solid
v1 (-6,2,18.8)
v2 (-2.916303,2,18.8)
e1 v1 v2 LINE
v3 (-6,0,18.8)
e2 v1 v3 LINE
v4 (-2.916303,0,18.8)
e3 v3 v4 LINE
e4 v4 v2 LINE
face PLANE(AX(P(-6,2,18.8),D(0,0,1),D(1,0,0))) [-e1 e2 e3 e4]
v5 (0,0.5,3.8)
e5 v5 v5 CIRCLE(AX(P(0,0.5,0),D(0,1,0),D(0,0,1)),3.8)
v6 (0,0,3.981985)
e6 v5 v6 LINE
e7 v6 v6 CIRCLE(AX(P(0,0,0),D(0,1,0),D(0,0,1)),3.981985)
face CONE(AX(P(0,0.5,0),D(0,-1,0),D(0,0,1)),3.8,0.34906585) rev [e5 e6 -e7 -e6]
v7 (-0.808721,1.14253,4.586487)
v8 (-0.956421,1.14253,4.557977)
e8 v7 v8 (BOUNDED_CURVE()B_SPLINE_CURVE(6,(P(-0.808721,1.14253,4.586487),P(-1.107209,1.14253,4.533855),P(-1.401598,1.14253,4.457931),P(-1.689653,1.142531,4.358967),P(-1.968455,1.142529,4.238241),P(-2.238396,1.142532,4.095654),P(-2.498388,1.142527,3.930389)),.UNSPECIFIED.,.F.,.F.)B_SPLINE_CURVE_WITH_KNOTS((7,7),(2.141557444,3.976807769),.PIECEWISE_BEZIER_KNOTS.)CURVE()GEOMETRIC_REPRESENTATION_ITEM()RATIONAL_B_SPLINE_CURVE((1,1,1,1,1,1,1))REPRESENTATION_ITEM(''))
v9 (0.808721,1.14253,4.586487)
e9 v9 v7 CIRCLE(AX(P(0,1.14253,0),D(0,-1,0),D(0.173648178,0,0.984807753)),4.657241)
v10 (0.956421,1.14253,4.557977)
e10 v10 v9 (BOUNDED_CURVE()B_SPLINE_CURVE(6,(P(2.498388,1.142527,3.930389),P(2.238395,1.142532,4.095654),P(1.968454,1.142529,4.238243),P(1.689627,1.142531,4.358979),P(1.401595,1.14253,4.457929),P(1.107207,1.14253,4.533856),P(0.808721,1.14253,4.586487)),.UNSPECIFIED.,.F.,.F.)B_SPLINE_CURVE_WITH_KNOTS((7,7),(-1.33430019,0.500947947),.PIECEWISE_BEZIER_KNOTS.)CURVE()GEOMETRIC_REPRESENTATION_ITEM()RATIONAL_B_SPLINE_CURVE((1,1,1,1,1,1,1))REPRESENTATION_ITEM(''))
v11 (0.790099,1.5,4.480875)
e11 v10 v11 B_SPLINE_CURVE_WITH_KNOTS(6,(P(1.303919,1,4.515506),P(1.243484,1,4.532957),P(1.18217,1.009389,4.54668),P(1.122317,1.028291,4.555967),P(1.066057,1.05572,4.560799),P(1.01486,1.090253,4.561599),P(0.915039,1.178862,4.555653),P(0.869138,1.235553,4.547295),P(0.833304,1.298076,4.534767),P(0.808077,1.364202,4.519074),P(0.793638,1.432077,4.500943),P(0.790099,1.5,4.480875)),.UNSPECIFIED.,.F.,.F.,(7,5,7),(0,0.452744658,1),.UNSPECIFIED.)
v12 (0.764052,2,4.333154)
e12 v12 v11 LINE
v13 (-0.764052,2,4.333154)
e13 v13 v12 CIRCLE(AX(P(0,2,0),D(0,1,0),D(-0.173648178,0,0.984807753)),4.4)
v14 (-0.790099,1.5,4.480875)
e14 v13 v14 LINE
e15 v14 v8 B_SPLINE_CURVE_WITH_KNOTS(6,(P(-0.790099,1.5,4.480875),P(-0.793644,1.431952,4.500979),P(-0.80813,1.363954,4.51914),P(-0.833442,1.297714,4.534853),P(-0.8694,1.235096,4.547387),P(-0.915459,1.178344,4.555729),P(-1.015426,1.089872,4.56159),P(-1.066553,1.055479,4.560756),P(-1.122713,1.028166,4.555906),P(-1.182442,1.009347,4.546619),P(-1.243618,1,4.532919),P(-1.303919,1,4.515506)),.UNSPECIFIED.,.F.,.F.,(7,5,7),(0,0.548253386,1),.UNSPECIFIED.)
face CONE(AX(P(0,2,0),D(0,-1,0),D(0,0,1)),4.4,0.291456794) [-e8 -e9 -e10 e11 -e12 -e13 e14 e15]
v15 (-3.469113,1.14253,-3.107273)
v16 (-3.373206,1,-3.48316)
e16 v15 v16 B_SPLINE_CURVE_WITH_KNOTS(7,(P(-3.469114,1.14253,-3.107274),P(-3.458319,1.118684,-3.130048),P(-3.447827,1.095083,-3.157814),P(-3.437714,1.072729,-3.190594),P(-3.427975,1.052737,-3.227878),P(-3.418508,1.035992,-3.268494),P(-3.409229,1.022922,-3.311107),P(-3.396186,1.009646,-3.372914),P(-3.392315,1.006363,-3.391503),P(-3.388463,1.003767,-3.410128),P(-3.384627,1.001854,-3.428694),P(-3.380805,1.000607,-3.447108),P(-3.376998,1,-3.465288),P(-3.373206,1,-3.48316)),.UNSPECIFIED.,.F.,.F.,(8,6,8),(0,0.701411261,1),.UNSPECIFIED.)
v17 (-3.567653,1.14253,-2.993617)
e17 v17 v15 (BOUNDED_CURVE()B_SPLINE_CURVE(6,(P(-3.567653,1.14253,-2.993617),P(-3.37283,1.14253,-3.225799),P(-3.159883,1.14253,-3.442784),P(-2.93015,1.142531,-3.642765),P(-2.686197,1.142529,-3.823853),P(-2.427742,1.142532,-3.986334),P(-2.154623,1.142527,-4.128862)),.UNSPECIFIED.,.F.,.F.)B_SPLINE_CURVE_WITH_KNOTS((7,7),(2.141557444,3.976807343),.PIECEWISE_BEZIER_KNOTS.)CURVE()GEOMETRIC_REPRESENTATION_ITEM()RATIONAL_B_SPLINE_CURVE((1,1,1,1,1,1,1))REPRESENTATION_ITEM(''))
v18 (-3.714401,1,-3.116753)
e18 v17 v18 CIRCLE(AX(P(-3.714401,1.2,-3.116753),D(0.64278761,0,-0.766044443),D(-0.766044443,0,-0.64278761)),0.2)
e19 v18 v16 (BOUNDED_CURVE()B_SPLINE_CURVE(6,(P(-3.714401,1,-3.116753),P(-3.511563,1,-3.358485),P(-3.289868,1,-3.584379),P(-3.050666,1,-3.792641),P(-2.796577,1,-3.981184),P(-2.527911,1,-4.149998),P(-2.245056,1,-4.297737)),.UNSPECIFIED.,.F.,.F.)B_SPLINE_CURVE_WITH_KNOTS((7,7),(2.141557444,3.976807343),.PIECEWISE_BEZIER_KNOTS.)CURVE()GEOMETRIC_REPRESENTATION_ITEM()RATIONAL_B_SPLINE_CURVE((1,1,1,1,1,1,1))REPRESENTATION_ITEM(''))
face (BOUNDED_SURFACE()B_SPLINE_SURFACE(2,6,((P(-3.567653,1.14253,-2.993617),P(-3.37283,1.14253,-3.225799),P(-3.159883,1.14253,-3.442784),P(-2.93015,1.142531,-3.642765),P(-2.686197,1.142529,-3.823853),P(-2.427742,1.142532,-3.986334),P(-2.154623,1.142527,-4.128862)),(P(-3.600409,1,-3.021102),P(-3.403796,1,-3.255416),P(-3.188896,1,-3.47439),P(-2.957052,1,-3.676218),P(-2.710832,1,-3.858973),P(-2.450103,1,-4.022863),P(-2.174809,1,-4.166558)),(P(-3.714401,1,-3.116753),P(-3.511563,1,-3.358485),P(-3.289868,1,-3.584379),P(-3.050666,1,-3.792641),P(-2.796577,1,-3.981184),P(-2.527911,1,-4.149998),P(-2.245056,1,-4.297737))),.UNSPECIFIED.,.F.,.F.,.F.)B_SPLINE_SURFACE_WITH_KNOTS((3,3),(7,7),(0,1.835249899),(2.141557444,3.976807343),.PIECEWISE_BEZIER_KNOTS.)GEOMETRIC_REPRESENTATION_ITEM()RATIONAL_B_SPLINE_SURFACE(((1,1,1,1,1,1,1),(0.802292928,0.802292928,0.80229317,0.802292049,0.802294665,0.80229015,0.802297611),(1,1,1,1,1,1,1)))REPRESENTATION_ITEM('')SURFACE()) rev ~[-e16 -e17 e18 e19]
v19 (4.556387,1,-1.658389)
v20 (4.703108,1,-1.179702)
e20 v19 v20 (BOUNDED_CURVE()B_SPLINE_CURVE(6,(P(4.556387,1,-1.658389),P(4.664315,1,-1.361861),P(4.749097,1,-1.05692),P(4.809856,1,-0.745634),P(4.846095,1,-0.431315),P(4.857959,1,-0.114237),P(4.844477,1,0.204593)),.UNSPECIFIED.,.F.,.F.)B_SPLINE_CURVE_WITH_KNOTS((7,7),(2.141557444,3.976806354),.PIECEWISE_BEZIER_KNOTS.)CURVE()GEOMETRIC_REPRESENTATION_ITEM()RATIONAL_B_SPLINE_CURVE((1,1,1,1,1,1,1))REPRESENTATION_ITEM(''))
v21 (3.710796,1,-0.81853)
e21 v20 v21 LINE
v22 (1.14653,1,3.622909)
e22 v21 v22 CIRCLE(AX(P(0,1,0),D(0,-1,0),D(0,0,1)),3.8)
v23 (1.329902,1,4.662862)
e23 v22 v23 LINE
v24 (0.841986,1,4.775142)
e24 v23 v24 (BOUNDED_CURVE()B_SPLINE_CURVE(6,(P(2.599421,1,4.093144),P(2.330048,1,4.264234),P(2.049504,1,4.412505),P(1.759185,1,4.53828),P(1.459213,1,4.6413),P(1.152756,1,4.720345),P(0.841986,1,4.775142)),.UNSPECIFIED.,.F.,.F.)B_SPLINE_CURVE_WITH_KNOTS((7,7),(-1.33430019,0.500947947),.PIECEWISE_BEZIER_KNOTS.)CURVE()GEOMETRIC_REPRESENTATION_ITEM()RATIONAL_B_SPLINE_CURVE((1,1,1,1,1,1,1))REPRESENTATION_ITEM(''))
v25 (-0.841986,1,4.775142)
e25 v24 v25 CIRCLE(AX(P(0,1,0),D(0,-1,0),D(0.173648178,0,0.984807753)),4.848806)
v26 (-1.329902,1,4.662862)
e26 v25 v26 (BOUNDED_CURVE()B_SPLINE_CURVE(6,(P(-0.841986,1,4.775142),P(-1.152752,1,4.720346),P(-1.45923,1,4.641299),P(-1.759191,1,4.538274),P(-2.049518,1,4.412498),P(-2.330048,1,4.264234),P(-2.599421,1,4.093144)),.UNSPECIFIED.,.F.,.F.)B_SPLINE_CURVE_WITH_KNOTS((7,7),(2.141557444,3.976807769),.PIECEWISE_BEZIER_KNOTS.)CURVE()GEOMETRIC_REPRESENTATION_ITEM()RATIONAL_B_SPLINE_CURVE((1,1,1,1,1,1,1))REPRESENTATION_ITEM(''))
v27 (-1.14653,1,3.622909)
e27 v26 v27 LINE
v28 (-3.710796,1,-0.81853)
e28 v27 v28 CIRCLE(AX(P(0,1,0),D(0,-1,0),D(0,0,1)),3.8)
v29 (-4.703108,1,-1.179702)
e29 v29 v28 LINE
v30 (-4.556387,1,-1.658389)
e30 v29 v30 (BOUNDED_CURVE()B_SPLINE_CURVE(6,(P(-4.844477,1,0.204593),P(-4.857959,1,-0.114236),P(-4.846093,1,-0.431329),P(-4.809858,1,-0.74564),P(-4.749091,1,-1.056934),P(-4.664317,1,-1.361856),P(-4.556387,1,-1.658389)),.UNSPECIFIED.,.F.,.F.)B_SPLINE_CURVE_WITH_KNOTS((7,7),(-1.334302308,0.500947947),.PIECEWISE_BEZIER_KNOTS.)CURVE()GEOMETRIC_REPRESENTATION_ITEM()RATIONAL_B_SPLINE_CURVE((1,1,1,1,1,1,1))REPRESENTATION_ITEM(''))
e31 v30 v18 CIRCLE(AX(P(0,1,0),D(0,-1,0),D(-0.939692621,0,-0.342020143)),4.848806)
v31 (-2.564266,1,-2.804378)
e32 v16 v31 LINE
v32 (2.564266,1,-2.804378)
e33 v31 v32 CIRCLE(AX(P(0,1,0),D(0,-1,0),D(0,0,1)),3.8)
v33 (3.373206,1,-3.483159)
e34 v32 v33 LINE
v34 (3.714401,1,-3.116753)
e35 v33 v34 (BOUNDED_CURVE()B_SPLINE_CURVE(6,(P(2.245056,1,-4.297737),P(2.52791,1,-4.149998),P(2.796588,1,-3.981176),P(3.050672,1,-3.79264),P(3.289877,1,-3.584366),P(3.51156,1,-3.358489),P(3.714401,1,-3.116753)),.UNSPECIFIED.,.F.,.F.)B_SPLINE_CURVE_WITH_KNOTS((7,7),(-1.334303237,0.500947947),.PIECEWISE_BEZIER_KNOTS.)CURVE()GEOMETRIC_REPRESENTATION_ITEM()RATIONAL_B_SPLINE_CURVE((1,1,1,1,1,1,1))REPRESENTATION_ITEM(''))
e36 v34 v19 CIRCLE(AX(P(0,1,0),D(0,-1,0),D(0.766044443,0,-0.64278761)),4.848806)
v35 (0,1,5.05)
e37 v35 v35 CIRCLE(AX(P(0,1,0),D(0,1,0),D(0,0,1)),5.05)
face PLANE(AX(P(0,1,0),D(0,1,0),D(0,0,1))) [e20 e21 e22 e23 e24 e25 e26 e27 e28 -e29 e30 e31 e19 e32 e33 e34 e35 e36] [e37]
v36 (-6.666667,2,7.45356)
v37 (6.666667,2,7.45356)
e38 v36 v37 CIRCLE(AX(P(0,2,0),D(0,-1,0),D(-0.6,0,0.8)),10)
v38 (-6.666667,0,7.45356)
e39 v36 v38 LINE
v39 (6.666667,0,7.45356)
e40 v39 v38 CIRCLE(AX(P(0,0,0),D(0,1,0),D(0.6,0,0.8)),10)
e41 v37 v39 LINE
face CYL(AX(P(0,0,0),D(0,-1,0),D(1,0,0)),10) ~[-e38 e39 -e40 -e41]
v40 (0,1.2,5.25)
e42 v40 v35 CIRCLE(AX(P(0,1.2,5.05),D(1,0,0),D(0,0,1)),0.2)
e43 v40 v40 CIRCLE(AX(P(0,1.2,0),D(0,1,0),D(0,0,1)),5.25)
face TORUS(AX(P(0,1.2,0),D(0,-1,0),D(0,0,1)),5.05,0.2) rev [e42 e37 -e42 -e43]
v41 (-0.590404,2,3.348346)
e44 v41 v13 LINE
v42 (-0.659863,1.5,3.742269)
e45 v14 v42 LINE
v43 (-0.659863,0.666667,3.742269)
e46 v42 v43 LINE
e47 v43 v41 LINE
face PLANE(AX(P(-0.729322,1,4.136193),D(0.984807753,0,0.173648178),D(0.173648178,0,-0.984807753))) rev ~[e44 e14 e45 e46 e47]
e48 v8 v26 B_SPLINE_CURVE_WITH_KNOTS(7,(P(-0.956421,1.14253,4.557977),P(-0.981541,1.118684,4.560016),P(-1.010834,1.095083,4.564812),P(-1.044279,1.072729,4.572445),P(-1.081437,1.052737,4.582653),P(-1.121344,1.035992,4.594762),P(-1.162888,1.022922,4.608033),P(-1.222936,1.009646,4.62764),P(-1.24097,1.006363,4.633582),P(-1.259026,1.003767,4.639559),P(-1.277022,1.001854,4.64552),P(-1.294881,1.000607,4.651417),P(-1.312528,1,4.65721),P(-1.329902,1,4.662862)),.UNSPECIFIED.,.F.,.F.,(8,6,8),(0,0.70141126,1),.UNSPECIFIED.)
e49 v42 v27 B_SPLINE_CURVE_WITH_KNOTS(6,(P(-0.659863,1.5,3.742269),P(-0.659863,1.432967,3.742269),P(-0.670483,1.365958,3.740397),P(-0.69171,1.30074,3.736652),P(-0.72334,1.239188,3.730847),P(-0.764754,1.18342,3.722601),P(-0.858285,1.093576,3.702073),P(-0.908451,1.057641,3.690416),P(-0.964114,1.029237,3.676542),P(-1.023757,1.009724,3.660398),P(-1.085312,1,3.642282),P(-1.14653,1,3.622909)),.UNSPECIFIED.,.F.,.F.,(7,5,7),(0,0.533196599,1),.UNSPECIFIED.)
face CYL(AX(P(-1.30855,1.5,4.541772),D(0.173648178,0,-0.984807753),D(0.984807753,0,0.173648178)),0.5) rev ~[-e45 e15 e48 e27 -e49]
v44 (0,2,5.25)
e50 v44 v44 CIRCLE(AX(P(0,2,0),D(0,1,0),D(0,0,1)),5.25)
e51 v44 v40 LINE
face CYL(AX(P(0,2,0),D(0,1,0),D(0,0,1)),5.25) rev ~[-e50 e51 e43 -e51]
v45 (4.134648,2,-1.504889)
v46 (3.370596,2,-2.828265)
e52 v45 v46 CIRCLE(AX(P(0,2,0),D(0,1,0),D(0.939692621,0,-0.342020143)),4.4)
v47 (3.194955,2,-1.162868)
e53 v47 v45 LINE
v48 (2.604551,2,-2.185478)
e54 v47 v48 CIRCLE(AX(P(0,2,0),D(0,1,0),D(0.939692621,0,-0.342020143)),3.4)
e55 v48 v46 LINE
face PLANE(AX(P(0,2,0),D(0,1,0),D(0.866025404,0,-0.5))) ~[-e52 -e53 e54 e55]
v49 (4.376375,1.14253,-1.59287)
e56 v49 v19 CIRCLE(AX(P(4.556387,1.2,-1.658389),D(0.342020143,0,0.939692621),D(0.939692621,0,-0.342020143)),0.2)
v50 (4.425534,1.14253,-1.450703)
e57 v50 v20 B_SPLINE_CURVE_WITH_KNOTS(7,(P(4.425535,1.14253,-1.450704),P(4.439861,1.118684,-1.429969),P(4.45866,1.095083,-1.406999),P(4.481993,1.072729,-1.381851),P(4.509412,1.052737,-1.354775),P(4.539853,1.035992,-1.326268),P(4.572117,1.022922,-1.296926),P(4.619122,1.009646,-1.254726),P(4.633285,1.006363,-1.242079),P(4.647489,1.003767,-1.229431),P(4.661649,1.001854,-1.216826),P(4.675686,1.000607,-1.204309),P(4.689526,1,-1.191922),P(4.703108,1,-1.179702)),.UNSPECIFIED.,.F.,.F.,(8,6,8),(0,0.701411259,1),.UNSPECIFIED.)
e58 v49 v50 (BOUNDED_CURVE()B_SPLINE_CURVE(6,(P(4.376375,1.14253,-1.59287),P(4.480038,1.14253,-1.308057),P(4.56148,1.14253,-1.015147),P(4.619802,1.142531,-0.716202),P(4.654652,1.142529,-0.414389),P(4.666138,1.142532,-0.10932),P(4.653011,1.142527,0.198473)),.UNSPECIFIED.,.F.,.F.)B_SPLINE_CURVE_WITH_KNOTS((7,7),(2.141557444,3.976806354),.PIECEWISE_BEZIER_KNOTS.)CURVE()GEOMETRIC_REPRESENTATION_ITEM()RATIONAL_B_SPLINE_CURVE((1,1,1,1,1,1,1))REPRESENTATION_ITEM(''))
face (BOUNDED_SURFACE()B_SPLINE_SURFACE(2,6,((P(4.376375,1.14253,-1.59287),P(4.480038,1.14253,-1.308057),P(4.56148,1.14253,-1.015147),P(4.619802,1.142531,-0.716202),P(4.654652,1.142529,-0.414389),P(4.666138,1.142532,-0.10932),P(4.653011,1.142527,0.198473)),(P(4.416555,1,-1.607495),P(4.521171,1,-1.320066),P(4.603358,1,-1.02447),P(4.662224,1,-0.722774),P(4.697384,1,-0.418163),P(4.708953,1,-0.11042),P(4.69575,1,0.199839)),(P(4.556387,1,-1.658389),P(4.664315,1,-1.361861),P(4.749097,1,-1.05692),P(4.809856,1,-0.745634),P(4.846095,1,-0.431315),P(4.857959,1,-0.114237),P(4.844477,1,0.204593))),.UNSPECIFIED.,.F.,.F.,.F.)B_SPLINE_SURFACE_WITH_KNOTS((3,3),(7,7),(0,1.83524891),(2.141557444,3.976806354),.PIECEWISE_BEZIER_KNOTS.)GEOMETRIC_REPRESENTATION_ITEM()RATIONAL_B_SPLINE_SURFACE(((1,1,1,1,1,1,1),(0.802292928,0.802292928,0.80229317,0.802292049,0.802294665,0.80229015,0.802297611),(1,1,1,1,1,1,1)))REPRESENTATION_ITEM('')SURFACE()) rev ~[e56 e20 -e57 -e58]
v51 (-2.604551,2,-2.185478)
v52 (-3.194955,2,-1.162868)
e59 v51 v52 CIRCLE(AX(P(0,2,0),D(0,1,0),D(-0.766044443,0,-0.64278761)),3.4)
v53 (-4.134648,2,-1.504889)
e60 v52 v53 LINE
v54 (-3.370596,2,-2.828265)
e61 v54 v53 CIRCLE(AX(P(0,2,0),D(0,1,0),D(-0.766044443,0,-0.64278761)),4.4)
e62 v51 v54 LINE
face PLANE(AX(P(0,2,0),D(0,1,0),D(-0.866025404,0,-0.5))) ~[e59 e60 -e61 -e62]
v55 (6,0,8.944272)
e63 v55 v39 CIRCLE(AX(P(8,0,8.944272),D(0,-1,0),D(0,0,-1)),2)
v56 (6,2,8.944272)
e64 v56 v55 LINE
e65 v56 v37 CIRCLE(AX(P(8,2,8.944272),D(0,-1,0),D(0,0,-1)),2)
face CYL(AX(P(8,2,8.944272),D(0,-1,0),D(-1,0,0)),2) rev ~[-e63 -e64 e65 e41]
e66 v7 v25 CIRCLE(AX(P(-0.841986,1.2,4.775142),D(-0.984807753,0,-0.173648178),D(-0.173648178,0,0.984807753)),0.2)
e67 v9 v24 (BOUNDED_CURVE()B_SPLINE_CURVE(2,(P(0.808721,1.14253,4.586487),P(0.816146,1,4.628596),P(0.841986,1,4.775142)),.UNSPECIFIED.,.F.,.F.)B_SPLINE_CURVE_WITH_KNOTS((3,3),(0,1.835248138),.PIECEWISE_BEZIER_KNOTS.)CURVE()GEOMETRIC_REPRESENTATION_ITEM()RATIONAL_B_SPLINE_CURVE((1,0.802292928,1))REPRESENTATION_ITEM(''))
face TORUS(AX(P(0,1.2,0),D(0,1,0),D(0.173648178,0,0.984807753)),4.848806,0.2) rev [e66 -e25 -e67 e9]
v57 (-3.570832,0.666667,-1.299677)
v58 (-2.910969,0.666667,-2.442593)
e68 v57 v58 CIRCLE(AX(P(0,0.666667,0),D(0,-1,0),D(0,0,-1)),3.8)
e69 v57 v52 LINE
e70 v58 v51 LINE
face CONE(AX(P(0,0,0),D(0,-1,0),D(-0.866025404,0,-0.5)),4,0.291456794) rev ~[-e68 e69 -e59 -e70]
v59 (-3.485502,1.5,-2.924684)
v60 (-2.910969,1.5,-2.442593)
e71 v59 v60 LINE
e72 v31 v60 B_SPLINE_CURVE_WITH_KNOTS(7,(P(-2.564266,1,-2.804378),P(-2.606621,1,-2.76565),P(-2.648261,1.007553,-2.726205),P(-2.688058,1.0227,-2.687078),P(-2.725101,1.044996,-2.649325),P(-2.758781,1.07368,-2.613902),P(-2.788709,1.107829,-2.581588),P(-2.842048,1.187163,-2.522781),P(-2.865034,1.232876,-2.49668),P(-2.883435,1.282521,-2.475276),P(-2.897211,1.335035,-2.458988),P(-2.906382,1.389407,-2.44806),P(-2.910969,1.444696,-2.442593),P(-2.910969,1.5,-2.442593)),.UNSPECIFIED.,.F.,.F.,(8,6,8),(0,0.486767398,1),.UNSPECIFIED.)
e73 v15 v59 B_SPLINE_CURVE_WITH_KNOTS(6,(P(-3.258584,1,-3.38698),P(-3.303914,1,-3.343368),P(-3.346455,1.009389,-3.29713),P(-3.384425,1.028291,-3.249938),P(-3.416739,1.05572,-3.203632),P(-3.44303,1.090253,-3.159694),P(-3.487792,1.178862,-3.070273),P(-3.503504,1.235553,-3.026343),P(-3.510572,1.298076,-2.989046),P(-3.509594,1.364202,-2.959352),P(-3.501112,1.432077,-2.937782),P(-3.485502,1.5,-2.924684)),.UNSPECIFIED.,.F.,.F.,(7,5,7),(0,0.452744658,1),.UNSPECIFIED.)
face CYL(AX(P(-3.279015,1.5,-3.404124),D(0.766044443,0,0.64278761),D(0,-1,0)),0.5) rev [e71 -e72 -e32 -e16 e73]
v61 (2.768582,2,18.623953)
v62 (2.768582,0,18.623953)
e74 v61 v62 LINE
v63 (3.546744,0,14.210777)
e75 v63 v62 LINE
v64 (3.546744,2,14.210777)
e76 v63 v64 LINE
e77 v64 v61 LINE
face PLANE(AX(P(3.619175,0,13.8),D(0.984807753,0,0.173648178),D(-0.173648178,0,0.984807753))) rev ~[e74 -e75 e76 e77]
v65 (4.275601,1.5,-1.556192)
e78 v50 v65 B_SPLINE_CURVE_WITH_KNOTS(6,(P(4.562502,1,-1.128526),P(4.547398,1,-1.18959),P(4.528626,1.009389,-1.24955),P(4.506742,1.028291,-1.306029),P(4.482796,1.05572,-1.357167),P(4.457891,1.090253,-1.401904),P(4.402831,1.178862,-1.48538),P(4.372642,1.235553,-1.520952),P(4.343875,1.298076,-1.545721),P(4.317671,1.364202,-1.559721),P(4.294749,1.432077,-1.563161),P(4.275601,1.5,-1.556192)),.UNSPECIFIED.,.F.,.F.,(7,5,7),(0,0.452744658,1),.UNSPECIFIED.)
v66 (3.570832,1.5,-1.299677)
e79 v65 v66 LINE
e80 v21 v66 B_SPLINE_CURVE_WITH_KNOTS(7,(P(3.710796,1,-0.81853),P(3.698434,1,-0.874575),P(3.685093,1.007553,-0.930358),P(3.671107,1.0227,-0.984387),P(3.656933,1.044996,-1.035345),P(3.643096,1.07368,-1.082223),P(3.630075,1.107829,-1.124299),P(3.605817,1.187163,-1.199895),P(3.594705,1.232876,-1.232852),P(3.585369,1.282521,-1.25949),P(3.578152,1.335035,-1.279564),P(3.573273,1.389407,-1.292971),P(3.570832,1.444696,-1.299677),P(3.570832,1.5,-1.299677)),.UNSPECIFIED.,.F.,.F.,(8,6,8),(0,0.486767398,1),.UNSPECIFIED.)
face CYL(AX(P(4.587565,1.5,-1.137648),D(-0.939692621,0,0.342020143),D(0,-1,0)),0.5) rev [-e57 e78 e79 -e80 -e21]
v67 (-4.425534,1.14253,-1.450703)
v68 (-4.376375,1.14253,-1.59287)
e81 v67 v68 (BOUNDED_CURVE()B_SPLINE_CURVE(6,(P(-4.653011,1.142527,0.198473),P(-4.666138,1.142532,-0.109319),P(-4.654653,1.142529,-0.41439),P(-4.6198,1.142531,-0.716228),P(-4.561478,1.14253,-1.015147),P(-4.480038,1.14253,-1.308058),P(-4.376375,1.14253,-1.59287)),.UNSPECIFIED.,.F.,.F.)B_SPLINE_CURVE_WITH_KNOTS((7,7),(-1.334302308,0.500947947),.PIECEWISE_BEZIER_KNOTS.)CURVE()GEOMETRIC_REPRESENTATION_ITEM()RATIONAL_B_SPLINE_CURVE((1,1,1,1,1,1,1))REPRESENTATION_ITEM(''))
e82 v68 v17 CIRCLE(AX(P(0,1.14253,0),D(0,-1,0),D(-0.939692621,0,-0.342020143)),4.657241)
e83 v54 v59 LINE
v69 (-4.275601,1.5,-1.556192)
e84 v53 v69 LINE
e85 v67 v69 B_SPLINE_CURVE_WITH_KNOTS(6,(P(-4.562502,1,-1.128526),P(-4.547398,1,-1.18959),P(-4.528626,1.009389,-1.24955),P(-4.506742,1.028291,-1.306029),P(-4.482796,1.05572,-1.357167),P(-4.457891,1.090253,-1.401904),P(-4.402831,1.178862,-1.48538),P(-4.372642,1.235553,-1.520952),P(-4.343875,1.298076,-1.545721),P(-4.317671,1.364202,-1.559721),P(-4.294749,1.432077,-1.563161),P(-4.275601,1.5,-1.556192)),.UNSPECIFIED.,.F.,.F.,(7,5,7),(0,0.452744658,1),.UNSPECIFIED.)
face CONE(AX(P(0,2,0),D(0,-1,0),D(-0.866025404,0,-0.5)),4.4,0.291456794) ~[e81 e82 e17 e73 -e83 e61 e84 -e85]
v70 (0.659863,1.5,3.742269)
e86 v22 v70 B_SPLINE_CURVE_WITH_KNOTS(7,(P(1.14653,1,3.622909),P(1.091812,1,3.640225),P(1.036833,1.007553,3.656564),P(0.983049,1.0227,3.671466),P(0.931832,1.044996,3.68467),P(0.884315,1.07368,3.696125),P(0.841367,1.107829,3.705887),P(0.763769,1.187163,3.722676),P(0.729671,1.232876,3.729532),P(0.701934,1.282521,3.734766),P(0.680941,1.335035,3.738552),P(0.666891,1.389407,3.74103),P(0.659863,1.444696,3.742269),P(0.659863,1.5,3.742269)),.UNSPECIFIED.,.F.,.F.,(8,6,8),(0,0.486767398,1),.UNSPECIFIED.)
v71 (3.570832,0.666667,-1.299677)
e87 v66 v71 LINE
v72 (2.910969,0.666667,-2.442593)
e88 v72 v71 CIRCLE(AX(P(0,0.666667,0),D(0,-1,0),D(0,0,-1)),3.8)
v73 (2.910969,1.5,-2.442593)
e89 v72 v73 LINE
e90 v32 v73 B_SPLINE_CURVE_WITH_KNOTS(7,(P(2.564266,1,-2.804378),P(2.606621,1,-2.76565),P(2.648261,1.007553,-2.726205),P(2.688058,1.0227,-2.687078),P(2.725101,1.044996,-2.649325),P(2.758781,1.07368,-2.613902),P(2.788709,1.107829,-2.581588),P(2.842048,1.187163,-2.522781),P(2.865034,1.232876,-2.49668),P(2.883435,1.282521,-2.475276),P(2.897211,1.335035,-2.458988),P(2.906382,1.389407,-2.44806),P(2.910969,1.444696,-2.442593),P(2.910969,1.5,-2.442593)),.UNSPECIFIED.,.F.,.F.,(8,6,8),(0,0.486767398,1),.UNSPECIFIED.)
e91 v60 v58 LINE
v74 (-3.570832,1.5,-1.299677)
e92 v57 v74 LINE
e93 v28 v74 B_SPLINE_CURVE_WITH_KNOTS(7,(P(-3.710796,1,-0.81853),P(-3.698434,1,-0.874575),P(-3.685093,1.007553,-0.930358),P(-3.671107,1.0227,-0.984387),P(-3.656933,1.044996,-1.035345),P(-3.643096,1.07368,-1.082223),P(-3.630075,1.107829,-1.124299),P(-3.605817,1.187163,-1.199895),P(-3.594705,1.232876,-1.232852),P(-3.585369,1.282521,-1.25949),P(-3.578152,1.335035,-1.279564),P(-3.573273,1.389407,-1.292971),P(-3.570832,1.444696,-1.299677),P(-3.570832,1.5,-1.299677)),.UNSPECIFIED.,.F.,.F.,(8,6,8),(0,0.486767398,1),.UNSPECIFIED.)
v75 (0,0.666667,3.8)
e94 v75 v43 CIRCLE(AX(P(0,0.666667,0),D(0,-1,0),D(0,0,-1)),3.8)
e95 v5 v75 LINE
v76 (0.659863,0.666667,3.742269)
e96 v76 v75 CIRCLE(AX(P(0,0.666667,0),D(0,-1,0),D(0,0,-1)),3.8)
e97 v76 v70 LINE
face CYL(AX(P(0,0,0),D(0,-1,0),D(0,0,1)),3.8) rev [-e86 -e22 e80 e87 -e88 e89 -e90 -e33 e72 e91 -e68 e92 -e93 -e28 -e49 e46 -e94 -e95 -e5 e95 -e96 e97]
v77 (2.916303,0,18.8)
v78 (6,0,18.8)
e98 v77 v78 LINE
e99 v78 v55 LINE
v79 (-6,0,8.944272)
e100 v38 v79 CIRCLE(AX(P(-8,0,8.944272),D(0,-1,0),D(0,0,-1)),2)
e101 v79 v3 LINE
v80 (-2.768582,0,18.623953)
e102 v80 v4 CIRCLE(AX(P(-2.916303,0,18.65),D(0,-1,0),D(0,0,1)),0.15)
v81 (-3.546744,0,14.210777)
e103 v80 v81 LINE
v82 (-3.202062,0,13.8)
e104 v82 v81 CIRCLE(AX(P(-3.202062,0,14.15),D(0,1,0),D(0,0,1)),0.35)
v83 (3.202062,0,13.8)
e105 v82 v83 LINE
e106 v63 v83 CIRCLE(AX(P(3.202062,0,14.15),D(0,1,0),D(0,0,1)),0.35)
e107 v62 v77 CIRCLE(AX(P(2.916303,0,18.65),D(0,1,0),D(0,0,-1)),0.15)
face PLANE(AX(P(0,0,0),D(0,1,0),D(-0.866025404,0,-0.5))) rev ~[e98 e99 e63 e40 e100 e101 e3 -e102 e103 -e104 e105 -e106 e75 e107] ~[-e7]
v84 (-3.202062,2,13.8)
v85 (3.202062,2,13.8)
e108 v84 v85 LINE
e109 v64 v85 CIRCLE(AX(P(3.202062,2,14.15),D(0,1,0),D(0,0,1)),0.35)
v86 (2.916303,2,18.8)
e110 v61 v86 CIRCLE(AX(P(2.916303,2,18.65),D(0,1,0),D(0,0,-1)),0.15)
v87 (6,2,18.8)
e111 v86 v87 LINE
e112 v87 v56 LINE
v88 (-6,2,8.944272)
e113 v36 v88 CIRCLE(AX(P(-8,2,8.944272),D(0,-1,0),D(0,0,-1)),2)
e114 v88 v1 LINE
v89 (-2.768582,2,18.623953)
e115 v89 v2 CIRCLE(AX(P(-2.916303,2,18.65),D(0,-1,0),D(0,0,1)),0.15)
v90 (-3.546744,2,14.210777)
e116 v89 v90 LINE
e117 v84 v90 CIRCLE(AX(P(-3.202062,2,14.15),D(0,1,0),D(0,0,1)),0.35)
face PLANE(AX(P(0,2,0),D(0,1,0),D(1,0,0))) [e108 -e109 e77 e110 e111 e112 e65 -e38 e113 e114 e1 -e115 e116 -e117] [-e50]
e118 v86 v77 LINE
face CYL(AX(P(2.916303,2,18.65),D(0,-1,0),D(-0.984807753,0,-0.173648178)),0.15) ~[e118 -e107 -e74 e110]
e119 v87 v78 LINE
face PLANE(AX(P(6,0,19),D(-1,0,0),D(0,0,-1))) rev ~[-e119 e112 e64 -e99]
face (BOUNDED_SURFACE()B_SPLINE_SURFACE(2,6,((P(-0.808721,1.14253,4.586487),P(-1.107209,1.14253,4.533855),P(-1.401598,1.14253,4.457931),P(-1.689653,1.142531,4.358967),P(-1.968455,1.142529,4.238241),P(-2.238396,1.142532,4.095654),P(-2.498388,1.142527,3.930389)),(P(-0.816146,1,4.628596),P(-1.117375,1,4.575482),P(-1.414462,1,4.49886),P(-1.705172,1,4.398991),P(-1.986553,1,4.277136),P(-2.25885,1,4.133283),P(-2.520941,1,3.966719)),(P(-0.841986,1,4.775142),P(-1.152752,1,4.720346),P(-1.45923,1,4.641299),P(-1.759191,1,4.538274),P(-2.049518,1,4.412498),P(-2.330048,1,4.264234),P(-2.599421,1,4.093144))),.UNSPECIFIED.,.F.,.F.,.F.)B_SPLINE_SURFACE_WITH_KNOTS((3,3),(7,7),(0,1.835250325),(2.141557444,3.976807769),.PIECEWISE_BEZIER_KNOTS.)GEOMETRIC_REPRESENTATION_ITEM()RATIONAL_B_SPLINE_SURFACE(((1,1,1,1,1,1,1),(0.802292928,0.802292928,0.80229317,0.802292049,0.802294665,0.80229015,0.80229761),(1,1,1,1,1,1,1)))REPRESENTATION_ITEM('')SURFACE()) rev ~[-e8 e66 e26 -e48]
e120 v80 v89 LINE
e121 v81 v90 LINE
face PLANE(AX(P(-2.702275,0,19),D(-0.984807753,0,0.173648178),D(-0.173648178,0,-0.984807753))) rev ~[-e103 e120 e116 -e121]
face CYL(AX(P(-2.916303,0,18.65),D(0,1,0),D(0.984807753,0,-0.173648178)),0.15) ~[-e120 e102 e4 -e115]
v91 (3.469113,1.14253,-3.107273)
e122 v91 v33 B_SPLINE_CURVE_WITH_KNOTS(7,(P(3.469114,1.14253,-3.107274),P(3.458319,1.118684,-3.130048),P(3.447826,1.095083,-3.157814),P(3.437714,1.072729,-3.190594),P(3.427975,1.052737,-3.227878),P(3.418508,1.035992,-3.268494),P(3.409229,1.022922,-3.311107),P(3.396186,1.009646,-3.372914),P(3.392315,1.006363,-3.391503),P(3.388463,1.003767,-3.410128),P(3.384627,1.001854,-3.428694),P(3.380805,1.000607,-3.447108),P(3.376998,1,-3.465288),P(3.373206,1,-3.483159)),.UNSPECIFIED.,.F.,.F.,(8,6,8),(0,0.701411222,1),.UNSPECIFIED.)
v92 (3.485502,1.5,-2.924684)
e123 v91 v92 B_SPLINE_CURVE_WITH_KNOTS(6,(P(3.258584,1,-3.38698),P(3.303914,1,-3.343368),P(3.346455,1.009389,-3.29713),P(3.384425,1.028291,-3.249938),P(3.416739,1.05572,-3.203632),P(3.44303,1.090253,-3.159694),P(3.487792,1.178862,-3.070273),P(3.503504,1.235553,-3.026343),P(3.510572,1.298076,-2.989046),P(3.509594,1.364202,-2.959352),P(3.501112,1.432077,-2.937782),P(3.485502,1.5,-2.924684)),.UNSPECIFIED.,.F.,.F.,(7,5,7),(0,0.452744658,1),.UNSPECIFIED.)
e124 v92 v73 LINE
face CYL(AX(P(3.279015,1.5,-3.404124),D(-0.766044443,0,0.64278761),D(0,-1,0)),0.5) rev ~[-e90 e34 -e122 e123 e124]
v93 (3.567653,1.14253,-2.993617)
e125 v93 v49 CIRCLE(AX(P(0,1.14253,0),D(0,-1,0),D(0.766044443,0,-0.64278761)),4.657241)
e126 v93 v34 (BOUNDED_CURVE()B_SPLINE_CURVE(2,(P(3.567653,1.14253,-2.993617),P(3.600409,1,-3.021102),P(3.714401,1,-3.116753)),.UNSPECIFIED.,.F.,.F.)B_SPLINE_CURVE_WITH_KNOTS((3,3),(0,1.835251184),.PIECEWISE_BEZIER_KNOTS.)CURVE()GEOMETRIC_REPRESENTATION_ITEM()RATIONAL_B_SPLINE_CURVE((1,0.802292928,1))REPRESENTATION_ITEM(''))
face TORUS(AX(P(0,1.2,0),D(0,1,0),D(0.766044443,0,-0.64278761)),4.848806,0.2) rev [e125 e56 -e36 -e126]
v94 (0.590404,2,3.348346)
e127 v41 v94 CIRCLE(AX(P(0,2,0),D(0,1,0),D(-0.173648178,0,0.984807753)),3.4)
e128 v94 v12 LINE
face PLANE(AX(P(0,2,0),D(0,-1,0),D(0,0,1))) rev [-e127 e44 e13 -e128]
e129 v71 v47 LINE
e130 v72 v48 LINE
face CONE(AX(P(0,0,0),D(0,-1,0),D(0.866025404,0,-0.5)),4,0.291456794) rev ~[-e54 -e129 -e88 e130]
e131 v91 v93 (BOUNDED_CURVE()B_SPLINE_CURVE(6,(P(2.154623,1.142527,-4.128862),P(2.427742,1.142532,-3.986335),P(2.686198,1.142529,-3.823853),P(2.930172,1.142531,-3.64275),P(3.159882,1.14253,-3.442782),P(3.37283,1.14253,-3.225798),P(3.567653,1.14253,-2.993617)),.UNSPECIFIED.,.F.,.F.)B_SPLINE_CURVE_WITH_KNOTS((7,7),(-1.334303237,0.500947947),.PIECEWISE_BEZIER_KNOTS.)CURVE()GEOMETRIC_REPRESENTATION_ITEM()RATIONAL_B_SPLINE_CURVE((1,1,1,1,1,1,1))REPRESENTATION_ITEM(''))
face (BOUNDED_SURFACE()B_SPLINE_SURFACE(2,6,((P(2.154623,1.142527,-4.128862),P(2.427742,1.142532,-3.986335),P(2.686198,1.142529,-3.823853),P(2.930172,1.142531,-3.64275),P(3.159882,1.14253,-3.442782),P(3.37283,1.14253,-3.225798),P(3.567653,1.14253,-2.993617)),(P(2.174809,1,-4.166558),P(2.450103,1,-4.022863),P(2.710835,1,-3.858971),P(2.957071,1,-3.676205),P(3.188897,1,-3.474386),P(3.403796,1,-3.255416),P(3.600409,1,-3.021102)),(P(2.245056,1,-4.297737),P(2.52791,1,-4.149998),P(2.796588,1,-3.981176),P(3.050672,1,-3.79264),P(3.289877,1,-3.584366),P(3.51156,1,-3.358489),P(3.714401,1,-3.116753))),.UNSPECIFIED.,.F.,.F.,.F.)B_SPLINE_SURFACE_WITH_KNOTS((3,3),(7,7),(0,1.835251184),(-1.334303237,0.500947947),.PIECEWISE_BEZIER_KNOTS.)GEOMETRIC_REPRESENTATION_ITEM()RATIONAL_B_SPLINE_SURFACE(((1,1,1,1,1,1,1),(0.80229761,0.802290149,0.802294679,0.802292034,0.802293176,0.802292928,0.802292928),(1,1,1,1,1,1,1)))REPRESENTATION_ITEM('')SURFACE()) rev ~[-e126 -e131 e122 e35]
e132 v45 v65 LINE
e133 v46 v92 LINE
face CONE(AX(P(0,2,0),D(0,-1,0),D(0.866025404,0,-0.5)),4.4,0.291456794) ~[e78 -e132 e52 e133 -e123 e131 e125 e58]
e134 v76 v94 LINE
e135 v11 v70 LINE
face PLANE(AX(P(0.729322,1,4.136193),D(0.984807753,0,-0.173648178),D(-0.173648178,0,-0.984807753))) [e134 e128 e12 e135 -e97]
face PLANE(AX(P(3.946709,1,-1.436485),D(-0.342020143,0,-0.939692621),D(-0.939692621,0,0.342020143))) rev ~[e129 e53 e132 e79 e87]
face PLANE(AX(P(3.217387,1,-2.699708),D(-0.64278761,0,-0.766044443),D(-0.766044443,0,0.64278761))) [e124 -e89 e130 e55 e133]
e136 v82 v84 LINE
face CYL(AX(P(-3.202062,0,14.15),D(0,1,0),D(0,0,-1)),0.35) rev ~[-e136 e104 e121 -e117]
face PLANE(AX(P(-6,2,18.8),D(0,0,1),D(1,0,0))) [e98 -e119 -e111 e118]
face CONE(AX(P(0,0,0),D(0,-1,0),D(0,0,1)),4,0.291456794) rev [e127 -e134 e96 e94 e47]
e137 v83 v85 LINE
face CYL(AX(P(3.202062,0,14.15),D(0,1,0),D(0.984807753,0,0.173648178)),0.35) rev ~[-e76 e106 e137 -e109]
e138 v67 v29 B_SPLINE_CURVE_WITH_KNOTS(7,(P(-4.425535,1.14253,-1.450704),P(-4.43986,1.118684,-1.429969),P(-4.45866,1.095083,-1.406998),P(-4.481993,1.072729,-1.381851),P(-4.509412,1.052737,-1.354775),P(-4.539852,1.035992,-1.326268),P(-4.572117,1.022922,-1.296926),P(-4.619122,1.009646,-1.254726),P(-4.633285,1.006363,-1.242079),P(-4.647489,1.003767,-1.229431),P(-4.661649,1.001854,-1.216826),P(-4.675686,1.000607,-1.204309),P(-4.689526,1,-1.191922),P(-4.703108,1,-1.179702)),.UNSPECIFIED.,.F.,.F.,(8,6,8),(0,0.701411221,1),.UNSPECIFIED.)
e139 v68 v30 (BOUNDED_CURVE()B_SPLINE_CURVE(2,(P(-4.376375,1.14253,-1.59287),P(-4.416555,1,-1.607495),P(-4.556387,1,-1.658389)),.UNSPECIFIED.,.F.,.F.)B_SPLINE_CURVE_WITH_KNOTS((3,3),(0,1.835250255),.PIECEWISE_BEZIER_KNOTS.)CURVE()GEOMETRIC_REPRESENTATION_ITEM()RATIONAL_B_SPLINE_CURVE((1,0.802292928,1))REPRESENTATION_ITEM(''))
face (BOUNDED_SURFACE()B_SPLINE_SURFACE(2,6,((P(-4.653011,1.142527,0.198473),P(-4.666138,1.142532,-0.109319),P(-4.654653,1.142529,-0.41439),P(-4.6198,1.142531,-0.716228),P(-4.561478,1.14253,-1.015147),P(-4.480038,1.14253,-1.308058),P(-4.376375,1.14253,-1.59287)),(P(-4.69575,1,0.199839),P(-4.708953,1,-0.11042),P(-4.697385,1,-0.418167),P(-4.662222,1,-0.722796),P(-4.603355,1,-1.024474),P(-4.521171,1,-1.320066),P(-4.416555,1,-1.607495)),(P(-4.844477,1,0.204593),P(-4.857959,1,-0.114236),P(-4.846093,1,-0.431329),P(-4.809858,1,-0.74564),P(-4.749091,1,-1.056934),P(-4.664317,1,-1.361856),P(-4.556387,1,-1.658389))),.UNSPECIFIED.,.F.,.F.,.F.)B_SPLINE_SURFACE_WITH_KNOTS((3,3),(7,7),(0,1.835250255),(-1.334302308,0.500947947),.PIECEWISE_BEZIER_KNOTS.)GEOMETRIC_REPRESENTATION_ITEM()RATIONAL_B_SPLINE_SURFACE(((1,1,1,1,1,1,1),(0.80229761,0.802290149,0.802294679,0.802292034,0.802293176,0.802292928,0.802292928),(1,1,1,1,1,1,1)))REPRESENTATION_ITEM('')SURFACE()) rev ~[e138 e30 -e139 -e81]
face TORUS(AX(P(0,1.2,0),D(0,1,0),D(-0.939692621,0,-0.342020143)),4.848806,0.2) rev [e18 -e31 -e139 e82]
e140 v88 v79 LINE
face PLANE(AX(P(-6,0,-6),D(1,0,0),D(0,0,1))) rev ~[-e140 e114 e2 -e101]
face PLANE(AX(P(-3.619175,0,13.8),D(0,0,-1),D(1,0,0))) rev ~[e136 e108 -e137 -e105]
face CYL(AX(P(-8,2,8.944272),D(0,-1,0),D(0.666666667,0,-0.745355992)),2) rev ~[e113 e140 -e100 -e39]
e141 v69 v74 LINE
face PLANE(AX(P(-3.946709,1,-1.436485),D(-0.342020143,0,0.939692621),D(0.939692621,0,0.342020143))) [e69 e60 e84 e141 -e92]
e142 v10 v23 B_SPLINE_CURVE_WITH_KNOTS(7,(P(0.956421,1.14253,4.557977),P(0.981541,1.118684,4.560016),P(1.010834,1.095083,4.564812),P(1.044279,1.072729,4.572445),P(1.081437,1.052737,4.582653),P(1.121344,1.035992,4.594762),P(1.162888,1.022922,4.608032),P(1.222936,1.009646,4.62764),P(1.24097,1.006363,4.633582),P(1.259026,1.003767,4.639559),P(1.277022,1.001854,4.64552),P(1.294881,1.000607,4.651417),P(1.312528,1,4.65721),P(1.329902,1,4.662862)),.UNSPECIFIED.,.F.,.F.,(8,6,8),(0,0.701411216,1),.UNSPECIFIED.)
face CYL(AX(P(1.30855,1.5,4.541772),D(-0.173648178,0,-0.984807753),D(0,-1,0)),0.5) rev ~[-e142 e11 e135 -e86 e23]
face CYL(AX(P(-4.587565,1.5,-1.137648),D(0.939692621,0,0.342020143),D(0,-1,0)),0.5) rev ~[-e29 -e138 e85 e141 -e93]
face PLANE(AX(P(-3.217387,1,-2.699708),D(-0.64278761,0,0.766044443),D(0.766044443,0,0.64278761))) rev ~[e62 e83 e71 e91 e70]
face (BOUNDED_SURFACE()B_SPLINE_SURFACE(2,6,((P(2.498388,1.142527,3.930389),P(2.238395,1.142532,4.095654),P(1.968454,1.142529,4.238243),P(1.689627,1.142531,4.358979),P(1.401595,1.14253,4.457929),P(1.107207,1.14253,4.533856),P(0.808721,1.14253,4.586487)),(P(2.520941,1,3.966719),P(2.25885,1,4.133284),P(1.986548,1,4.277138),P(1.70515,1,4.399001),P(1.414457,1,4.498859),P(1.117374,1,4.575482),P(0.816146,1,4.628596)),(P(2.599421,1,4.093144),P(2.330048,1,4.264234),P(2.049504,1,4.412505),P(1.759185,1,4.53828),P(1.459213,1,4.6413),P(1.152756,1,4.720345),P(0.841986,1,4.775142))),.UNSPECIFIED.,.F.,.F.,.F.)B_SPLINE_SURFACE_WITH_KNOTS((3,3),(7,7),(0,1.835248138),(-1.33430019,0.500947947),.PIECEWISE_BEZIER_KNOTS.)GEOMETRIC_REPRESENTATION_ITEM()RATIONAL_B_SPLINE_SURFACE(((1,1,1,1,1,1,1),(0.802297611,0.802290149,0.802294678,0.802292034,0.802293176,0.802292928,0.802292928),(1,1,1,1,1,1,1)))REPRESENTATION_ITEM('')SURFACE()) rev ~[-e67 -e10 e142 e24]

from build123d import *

# Parameters (mm, degrees)
SKETCH1_R           = 4
BOSS_EXTRUDE1_DEPTH = 2
SKETCH2_R           = 10
SKETCH2_R_2         = 3.8
BOSS_EXTRUDE2_DEPTH = 2
SKETCH4_W           = 12
SKETCH4_H           = 0.2
CUT_EXTRUDE1_DEPTH  = 4
FILLET3_R           = 0.35
FILLET4_R           = 0.15
FILLET6_R           = 2
SKETCH13_R          = 5.25
CUT_EXTRUDE5_DEPTH  = 1
REVOLVE2_ANGLE      = 20
CIRPATTERN2_COUNT   = 3
CHAMFER1_SIZE       = 0.5
CHAMFER1_SIZE2      = 0.181985117
FILLET13_R          = 0.5
FILLET14_R          = 0.2


with BuildPart() as part:
    # Sketch1 → Boss-Extrude1 (new body)
    with BuildSketch(Plane(origin=(0, 0, 0), x_dir=(1, 0, 0), z_dir=(0, 1, 0))):
        Polygon((-6, 6), (-6, -13.291502622), (-6, -19), (-2.70227506, -19), (-3.619175359, -13.8), (0, -13.8), (3.619175359, -13.8), (2.70227506, -19), (6, -19), (6, -13.291502622), (6, 6), align=None)
        with Locations(Location((0, 0, 0), (0, 0, 270))):
            Circle(SKETCH1_R, mode=Mode.SUBTRACT)
    extrude(amount=BOSS_EXTRUDE1_DEPTH)

    # Sketch2 → Boss-Extrude2 (add)
    with BuildSketch(Plane(origin=(0, 0, 0), x_dir=(1, 0, 0), z_dir=(0, 1, 0))):
        Circle(SKETCH2_R)
        with Locations(Location((0, 0, 0), (0, 0, 270))):
            Circle(SKETCH2_R_2, mode=Mode.SUBTRACT)
    extrude(amount=BOSS_EXTRUDE2_DEPTH)

    # Sketch4 → Cut-Extrude1 (cut)
    with BuildSketch(Plane(origin=(0, 2, 0), x_dir=(1, 0, 0), z_dir=(0, 1, 0))):
        with Locations((0, -18.9)):
            Rectangle(SKETCH4_W, SKETCH4_H)
    extrude(amount=-CUT_EXTRUDE1_DEPTH, mode=Mode.SUBTRACT)

    # Fillet3
    fillet3_edges = [part.edges().sort_by_distance(p)[0] for p in [
        (3.619175359, 1, 13.8),
        (-3.619175359, 1, 13.8),
    ]]
    fillet(fillet3_edges, radius=FILLET3_R)

    # Fillet4
    fillet4_edges = [part.edges().sort_by_distance(p)[0] for p in [
        (2.737540456, 1, 18.8),
        (-2.737540456, 1, 18.8),
    ]]
    fillet(fillet4_edges, radius=FILLET4_R)

    # Fillet6
    fillet6_edges = [part.edges().sort_by_distance(p)[0] for p in [
        (6, 1, 8),
        (-6, 1, 8),
    ]]
    fillet(fillet6_edges, radius=FILLET6_R)

    # Sketch13 → Cut-Extrude5 (cut)
    with BuildSketch(Plane(origin=(0, 2, 0), x_dir=(1, 0, 0), z_dir=(0, 1, 0))):
        with Locations(Location((0, 0, 0), (0, 0, 270))):
            Circle(SKETCH13_R)
    extrude(amount=-CUT_EXTRUDE5_DEPTH, mode=Mode.SUBTRACT)

    # Sketch12 → Revolve2 (revolve, symmetric)
    with BuildSketch(Plane(origin=(0, 0, 0), x_dir=(0, 0, -1), z_dir=(1, 0, 0))) as revolve2_sk:
        Polygon((-4, 0), (-3.4, 2), (-4.4, 2), (-5, 0), align=None)
    revolve2 = revolve(axis=Axis((0, 0, 0), (0, 1, 0)), revolution_arc=REVOLVE2_ANGLE / 2)
    revolve2 = revolve2 + revolve(revolve2_sk.sketch, axis=Axis((0, 0, 0), (0, -1, 0)), revolution_arc=REVOLVE2_ANGLE / 2)

    # CirPattern2: Revolve2 ×3 about axis
    cirpattern2_axis = Axis((0, 0, 0), (0, 1, 0))
    for i in range(1, CIRPATTERN2_COUNT):
        add(revolve2.rotate(cirpattern2_axis, i * 360 / CIRPATTERN2_COUNT))

    # Chamfer1
    chamfer1_edges = [part.edges().sort_by_distance(p)[0] for p in [
        (0, 0, -3.8),
    ]]
    chamfer1_side = [part.faces().sort_by_distance(p)[0] for p in [
        (0, 0.5, -3.8),
    ]]
    chamfer(chamfer1_edges, length=CHAMFER1_SIZE, length2=CHAMFER1_SIZE2, reference=chamfer1_side[0])

    # Fillet13
    fillet13_edges = [part.edges().sort_by_distance(p)[0] for p in [
        (-0.738004755, 1, 4.18543295),
        (0.738004755, 1, 4.18543295),
        (-3.255688883, 1, -2.731847341),
        (-3.993693638, 1, -1.453585609),
        (3.993693638, 1, -1.453585609),
        (3.255688883, 1, -2.731847341),
    ]]
    fillet(fillet13_edges, radius=FILLET13_R)

    # Fillet14
    fillet14_edges = [part.edges().sort_by_distance(p)[0] for p in [
        (0, 1, -5.25),
        (-4.070319398, 1, -2.35),
        (4.070319398, 1, -2.35),
        (0, 1, 4.7),
    ]]
    fillet(fillet14_edges, radius=FILLET14_R)


solid = part.part
